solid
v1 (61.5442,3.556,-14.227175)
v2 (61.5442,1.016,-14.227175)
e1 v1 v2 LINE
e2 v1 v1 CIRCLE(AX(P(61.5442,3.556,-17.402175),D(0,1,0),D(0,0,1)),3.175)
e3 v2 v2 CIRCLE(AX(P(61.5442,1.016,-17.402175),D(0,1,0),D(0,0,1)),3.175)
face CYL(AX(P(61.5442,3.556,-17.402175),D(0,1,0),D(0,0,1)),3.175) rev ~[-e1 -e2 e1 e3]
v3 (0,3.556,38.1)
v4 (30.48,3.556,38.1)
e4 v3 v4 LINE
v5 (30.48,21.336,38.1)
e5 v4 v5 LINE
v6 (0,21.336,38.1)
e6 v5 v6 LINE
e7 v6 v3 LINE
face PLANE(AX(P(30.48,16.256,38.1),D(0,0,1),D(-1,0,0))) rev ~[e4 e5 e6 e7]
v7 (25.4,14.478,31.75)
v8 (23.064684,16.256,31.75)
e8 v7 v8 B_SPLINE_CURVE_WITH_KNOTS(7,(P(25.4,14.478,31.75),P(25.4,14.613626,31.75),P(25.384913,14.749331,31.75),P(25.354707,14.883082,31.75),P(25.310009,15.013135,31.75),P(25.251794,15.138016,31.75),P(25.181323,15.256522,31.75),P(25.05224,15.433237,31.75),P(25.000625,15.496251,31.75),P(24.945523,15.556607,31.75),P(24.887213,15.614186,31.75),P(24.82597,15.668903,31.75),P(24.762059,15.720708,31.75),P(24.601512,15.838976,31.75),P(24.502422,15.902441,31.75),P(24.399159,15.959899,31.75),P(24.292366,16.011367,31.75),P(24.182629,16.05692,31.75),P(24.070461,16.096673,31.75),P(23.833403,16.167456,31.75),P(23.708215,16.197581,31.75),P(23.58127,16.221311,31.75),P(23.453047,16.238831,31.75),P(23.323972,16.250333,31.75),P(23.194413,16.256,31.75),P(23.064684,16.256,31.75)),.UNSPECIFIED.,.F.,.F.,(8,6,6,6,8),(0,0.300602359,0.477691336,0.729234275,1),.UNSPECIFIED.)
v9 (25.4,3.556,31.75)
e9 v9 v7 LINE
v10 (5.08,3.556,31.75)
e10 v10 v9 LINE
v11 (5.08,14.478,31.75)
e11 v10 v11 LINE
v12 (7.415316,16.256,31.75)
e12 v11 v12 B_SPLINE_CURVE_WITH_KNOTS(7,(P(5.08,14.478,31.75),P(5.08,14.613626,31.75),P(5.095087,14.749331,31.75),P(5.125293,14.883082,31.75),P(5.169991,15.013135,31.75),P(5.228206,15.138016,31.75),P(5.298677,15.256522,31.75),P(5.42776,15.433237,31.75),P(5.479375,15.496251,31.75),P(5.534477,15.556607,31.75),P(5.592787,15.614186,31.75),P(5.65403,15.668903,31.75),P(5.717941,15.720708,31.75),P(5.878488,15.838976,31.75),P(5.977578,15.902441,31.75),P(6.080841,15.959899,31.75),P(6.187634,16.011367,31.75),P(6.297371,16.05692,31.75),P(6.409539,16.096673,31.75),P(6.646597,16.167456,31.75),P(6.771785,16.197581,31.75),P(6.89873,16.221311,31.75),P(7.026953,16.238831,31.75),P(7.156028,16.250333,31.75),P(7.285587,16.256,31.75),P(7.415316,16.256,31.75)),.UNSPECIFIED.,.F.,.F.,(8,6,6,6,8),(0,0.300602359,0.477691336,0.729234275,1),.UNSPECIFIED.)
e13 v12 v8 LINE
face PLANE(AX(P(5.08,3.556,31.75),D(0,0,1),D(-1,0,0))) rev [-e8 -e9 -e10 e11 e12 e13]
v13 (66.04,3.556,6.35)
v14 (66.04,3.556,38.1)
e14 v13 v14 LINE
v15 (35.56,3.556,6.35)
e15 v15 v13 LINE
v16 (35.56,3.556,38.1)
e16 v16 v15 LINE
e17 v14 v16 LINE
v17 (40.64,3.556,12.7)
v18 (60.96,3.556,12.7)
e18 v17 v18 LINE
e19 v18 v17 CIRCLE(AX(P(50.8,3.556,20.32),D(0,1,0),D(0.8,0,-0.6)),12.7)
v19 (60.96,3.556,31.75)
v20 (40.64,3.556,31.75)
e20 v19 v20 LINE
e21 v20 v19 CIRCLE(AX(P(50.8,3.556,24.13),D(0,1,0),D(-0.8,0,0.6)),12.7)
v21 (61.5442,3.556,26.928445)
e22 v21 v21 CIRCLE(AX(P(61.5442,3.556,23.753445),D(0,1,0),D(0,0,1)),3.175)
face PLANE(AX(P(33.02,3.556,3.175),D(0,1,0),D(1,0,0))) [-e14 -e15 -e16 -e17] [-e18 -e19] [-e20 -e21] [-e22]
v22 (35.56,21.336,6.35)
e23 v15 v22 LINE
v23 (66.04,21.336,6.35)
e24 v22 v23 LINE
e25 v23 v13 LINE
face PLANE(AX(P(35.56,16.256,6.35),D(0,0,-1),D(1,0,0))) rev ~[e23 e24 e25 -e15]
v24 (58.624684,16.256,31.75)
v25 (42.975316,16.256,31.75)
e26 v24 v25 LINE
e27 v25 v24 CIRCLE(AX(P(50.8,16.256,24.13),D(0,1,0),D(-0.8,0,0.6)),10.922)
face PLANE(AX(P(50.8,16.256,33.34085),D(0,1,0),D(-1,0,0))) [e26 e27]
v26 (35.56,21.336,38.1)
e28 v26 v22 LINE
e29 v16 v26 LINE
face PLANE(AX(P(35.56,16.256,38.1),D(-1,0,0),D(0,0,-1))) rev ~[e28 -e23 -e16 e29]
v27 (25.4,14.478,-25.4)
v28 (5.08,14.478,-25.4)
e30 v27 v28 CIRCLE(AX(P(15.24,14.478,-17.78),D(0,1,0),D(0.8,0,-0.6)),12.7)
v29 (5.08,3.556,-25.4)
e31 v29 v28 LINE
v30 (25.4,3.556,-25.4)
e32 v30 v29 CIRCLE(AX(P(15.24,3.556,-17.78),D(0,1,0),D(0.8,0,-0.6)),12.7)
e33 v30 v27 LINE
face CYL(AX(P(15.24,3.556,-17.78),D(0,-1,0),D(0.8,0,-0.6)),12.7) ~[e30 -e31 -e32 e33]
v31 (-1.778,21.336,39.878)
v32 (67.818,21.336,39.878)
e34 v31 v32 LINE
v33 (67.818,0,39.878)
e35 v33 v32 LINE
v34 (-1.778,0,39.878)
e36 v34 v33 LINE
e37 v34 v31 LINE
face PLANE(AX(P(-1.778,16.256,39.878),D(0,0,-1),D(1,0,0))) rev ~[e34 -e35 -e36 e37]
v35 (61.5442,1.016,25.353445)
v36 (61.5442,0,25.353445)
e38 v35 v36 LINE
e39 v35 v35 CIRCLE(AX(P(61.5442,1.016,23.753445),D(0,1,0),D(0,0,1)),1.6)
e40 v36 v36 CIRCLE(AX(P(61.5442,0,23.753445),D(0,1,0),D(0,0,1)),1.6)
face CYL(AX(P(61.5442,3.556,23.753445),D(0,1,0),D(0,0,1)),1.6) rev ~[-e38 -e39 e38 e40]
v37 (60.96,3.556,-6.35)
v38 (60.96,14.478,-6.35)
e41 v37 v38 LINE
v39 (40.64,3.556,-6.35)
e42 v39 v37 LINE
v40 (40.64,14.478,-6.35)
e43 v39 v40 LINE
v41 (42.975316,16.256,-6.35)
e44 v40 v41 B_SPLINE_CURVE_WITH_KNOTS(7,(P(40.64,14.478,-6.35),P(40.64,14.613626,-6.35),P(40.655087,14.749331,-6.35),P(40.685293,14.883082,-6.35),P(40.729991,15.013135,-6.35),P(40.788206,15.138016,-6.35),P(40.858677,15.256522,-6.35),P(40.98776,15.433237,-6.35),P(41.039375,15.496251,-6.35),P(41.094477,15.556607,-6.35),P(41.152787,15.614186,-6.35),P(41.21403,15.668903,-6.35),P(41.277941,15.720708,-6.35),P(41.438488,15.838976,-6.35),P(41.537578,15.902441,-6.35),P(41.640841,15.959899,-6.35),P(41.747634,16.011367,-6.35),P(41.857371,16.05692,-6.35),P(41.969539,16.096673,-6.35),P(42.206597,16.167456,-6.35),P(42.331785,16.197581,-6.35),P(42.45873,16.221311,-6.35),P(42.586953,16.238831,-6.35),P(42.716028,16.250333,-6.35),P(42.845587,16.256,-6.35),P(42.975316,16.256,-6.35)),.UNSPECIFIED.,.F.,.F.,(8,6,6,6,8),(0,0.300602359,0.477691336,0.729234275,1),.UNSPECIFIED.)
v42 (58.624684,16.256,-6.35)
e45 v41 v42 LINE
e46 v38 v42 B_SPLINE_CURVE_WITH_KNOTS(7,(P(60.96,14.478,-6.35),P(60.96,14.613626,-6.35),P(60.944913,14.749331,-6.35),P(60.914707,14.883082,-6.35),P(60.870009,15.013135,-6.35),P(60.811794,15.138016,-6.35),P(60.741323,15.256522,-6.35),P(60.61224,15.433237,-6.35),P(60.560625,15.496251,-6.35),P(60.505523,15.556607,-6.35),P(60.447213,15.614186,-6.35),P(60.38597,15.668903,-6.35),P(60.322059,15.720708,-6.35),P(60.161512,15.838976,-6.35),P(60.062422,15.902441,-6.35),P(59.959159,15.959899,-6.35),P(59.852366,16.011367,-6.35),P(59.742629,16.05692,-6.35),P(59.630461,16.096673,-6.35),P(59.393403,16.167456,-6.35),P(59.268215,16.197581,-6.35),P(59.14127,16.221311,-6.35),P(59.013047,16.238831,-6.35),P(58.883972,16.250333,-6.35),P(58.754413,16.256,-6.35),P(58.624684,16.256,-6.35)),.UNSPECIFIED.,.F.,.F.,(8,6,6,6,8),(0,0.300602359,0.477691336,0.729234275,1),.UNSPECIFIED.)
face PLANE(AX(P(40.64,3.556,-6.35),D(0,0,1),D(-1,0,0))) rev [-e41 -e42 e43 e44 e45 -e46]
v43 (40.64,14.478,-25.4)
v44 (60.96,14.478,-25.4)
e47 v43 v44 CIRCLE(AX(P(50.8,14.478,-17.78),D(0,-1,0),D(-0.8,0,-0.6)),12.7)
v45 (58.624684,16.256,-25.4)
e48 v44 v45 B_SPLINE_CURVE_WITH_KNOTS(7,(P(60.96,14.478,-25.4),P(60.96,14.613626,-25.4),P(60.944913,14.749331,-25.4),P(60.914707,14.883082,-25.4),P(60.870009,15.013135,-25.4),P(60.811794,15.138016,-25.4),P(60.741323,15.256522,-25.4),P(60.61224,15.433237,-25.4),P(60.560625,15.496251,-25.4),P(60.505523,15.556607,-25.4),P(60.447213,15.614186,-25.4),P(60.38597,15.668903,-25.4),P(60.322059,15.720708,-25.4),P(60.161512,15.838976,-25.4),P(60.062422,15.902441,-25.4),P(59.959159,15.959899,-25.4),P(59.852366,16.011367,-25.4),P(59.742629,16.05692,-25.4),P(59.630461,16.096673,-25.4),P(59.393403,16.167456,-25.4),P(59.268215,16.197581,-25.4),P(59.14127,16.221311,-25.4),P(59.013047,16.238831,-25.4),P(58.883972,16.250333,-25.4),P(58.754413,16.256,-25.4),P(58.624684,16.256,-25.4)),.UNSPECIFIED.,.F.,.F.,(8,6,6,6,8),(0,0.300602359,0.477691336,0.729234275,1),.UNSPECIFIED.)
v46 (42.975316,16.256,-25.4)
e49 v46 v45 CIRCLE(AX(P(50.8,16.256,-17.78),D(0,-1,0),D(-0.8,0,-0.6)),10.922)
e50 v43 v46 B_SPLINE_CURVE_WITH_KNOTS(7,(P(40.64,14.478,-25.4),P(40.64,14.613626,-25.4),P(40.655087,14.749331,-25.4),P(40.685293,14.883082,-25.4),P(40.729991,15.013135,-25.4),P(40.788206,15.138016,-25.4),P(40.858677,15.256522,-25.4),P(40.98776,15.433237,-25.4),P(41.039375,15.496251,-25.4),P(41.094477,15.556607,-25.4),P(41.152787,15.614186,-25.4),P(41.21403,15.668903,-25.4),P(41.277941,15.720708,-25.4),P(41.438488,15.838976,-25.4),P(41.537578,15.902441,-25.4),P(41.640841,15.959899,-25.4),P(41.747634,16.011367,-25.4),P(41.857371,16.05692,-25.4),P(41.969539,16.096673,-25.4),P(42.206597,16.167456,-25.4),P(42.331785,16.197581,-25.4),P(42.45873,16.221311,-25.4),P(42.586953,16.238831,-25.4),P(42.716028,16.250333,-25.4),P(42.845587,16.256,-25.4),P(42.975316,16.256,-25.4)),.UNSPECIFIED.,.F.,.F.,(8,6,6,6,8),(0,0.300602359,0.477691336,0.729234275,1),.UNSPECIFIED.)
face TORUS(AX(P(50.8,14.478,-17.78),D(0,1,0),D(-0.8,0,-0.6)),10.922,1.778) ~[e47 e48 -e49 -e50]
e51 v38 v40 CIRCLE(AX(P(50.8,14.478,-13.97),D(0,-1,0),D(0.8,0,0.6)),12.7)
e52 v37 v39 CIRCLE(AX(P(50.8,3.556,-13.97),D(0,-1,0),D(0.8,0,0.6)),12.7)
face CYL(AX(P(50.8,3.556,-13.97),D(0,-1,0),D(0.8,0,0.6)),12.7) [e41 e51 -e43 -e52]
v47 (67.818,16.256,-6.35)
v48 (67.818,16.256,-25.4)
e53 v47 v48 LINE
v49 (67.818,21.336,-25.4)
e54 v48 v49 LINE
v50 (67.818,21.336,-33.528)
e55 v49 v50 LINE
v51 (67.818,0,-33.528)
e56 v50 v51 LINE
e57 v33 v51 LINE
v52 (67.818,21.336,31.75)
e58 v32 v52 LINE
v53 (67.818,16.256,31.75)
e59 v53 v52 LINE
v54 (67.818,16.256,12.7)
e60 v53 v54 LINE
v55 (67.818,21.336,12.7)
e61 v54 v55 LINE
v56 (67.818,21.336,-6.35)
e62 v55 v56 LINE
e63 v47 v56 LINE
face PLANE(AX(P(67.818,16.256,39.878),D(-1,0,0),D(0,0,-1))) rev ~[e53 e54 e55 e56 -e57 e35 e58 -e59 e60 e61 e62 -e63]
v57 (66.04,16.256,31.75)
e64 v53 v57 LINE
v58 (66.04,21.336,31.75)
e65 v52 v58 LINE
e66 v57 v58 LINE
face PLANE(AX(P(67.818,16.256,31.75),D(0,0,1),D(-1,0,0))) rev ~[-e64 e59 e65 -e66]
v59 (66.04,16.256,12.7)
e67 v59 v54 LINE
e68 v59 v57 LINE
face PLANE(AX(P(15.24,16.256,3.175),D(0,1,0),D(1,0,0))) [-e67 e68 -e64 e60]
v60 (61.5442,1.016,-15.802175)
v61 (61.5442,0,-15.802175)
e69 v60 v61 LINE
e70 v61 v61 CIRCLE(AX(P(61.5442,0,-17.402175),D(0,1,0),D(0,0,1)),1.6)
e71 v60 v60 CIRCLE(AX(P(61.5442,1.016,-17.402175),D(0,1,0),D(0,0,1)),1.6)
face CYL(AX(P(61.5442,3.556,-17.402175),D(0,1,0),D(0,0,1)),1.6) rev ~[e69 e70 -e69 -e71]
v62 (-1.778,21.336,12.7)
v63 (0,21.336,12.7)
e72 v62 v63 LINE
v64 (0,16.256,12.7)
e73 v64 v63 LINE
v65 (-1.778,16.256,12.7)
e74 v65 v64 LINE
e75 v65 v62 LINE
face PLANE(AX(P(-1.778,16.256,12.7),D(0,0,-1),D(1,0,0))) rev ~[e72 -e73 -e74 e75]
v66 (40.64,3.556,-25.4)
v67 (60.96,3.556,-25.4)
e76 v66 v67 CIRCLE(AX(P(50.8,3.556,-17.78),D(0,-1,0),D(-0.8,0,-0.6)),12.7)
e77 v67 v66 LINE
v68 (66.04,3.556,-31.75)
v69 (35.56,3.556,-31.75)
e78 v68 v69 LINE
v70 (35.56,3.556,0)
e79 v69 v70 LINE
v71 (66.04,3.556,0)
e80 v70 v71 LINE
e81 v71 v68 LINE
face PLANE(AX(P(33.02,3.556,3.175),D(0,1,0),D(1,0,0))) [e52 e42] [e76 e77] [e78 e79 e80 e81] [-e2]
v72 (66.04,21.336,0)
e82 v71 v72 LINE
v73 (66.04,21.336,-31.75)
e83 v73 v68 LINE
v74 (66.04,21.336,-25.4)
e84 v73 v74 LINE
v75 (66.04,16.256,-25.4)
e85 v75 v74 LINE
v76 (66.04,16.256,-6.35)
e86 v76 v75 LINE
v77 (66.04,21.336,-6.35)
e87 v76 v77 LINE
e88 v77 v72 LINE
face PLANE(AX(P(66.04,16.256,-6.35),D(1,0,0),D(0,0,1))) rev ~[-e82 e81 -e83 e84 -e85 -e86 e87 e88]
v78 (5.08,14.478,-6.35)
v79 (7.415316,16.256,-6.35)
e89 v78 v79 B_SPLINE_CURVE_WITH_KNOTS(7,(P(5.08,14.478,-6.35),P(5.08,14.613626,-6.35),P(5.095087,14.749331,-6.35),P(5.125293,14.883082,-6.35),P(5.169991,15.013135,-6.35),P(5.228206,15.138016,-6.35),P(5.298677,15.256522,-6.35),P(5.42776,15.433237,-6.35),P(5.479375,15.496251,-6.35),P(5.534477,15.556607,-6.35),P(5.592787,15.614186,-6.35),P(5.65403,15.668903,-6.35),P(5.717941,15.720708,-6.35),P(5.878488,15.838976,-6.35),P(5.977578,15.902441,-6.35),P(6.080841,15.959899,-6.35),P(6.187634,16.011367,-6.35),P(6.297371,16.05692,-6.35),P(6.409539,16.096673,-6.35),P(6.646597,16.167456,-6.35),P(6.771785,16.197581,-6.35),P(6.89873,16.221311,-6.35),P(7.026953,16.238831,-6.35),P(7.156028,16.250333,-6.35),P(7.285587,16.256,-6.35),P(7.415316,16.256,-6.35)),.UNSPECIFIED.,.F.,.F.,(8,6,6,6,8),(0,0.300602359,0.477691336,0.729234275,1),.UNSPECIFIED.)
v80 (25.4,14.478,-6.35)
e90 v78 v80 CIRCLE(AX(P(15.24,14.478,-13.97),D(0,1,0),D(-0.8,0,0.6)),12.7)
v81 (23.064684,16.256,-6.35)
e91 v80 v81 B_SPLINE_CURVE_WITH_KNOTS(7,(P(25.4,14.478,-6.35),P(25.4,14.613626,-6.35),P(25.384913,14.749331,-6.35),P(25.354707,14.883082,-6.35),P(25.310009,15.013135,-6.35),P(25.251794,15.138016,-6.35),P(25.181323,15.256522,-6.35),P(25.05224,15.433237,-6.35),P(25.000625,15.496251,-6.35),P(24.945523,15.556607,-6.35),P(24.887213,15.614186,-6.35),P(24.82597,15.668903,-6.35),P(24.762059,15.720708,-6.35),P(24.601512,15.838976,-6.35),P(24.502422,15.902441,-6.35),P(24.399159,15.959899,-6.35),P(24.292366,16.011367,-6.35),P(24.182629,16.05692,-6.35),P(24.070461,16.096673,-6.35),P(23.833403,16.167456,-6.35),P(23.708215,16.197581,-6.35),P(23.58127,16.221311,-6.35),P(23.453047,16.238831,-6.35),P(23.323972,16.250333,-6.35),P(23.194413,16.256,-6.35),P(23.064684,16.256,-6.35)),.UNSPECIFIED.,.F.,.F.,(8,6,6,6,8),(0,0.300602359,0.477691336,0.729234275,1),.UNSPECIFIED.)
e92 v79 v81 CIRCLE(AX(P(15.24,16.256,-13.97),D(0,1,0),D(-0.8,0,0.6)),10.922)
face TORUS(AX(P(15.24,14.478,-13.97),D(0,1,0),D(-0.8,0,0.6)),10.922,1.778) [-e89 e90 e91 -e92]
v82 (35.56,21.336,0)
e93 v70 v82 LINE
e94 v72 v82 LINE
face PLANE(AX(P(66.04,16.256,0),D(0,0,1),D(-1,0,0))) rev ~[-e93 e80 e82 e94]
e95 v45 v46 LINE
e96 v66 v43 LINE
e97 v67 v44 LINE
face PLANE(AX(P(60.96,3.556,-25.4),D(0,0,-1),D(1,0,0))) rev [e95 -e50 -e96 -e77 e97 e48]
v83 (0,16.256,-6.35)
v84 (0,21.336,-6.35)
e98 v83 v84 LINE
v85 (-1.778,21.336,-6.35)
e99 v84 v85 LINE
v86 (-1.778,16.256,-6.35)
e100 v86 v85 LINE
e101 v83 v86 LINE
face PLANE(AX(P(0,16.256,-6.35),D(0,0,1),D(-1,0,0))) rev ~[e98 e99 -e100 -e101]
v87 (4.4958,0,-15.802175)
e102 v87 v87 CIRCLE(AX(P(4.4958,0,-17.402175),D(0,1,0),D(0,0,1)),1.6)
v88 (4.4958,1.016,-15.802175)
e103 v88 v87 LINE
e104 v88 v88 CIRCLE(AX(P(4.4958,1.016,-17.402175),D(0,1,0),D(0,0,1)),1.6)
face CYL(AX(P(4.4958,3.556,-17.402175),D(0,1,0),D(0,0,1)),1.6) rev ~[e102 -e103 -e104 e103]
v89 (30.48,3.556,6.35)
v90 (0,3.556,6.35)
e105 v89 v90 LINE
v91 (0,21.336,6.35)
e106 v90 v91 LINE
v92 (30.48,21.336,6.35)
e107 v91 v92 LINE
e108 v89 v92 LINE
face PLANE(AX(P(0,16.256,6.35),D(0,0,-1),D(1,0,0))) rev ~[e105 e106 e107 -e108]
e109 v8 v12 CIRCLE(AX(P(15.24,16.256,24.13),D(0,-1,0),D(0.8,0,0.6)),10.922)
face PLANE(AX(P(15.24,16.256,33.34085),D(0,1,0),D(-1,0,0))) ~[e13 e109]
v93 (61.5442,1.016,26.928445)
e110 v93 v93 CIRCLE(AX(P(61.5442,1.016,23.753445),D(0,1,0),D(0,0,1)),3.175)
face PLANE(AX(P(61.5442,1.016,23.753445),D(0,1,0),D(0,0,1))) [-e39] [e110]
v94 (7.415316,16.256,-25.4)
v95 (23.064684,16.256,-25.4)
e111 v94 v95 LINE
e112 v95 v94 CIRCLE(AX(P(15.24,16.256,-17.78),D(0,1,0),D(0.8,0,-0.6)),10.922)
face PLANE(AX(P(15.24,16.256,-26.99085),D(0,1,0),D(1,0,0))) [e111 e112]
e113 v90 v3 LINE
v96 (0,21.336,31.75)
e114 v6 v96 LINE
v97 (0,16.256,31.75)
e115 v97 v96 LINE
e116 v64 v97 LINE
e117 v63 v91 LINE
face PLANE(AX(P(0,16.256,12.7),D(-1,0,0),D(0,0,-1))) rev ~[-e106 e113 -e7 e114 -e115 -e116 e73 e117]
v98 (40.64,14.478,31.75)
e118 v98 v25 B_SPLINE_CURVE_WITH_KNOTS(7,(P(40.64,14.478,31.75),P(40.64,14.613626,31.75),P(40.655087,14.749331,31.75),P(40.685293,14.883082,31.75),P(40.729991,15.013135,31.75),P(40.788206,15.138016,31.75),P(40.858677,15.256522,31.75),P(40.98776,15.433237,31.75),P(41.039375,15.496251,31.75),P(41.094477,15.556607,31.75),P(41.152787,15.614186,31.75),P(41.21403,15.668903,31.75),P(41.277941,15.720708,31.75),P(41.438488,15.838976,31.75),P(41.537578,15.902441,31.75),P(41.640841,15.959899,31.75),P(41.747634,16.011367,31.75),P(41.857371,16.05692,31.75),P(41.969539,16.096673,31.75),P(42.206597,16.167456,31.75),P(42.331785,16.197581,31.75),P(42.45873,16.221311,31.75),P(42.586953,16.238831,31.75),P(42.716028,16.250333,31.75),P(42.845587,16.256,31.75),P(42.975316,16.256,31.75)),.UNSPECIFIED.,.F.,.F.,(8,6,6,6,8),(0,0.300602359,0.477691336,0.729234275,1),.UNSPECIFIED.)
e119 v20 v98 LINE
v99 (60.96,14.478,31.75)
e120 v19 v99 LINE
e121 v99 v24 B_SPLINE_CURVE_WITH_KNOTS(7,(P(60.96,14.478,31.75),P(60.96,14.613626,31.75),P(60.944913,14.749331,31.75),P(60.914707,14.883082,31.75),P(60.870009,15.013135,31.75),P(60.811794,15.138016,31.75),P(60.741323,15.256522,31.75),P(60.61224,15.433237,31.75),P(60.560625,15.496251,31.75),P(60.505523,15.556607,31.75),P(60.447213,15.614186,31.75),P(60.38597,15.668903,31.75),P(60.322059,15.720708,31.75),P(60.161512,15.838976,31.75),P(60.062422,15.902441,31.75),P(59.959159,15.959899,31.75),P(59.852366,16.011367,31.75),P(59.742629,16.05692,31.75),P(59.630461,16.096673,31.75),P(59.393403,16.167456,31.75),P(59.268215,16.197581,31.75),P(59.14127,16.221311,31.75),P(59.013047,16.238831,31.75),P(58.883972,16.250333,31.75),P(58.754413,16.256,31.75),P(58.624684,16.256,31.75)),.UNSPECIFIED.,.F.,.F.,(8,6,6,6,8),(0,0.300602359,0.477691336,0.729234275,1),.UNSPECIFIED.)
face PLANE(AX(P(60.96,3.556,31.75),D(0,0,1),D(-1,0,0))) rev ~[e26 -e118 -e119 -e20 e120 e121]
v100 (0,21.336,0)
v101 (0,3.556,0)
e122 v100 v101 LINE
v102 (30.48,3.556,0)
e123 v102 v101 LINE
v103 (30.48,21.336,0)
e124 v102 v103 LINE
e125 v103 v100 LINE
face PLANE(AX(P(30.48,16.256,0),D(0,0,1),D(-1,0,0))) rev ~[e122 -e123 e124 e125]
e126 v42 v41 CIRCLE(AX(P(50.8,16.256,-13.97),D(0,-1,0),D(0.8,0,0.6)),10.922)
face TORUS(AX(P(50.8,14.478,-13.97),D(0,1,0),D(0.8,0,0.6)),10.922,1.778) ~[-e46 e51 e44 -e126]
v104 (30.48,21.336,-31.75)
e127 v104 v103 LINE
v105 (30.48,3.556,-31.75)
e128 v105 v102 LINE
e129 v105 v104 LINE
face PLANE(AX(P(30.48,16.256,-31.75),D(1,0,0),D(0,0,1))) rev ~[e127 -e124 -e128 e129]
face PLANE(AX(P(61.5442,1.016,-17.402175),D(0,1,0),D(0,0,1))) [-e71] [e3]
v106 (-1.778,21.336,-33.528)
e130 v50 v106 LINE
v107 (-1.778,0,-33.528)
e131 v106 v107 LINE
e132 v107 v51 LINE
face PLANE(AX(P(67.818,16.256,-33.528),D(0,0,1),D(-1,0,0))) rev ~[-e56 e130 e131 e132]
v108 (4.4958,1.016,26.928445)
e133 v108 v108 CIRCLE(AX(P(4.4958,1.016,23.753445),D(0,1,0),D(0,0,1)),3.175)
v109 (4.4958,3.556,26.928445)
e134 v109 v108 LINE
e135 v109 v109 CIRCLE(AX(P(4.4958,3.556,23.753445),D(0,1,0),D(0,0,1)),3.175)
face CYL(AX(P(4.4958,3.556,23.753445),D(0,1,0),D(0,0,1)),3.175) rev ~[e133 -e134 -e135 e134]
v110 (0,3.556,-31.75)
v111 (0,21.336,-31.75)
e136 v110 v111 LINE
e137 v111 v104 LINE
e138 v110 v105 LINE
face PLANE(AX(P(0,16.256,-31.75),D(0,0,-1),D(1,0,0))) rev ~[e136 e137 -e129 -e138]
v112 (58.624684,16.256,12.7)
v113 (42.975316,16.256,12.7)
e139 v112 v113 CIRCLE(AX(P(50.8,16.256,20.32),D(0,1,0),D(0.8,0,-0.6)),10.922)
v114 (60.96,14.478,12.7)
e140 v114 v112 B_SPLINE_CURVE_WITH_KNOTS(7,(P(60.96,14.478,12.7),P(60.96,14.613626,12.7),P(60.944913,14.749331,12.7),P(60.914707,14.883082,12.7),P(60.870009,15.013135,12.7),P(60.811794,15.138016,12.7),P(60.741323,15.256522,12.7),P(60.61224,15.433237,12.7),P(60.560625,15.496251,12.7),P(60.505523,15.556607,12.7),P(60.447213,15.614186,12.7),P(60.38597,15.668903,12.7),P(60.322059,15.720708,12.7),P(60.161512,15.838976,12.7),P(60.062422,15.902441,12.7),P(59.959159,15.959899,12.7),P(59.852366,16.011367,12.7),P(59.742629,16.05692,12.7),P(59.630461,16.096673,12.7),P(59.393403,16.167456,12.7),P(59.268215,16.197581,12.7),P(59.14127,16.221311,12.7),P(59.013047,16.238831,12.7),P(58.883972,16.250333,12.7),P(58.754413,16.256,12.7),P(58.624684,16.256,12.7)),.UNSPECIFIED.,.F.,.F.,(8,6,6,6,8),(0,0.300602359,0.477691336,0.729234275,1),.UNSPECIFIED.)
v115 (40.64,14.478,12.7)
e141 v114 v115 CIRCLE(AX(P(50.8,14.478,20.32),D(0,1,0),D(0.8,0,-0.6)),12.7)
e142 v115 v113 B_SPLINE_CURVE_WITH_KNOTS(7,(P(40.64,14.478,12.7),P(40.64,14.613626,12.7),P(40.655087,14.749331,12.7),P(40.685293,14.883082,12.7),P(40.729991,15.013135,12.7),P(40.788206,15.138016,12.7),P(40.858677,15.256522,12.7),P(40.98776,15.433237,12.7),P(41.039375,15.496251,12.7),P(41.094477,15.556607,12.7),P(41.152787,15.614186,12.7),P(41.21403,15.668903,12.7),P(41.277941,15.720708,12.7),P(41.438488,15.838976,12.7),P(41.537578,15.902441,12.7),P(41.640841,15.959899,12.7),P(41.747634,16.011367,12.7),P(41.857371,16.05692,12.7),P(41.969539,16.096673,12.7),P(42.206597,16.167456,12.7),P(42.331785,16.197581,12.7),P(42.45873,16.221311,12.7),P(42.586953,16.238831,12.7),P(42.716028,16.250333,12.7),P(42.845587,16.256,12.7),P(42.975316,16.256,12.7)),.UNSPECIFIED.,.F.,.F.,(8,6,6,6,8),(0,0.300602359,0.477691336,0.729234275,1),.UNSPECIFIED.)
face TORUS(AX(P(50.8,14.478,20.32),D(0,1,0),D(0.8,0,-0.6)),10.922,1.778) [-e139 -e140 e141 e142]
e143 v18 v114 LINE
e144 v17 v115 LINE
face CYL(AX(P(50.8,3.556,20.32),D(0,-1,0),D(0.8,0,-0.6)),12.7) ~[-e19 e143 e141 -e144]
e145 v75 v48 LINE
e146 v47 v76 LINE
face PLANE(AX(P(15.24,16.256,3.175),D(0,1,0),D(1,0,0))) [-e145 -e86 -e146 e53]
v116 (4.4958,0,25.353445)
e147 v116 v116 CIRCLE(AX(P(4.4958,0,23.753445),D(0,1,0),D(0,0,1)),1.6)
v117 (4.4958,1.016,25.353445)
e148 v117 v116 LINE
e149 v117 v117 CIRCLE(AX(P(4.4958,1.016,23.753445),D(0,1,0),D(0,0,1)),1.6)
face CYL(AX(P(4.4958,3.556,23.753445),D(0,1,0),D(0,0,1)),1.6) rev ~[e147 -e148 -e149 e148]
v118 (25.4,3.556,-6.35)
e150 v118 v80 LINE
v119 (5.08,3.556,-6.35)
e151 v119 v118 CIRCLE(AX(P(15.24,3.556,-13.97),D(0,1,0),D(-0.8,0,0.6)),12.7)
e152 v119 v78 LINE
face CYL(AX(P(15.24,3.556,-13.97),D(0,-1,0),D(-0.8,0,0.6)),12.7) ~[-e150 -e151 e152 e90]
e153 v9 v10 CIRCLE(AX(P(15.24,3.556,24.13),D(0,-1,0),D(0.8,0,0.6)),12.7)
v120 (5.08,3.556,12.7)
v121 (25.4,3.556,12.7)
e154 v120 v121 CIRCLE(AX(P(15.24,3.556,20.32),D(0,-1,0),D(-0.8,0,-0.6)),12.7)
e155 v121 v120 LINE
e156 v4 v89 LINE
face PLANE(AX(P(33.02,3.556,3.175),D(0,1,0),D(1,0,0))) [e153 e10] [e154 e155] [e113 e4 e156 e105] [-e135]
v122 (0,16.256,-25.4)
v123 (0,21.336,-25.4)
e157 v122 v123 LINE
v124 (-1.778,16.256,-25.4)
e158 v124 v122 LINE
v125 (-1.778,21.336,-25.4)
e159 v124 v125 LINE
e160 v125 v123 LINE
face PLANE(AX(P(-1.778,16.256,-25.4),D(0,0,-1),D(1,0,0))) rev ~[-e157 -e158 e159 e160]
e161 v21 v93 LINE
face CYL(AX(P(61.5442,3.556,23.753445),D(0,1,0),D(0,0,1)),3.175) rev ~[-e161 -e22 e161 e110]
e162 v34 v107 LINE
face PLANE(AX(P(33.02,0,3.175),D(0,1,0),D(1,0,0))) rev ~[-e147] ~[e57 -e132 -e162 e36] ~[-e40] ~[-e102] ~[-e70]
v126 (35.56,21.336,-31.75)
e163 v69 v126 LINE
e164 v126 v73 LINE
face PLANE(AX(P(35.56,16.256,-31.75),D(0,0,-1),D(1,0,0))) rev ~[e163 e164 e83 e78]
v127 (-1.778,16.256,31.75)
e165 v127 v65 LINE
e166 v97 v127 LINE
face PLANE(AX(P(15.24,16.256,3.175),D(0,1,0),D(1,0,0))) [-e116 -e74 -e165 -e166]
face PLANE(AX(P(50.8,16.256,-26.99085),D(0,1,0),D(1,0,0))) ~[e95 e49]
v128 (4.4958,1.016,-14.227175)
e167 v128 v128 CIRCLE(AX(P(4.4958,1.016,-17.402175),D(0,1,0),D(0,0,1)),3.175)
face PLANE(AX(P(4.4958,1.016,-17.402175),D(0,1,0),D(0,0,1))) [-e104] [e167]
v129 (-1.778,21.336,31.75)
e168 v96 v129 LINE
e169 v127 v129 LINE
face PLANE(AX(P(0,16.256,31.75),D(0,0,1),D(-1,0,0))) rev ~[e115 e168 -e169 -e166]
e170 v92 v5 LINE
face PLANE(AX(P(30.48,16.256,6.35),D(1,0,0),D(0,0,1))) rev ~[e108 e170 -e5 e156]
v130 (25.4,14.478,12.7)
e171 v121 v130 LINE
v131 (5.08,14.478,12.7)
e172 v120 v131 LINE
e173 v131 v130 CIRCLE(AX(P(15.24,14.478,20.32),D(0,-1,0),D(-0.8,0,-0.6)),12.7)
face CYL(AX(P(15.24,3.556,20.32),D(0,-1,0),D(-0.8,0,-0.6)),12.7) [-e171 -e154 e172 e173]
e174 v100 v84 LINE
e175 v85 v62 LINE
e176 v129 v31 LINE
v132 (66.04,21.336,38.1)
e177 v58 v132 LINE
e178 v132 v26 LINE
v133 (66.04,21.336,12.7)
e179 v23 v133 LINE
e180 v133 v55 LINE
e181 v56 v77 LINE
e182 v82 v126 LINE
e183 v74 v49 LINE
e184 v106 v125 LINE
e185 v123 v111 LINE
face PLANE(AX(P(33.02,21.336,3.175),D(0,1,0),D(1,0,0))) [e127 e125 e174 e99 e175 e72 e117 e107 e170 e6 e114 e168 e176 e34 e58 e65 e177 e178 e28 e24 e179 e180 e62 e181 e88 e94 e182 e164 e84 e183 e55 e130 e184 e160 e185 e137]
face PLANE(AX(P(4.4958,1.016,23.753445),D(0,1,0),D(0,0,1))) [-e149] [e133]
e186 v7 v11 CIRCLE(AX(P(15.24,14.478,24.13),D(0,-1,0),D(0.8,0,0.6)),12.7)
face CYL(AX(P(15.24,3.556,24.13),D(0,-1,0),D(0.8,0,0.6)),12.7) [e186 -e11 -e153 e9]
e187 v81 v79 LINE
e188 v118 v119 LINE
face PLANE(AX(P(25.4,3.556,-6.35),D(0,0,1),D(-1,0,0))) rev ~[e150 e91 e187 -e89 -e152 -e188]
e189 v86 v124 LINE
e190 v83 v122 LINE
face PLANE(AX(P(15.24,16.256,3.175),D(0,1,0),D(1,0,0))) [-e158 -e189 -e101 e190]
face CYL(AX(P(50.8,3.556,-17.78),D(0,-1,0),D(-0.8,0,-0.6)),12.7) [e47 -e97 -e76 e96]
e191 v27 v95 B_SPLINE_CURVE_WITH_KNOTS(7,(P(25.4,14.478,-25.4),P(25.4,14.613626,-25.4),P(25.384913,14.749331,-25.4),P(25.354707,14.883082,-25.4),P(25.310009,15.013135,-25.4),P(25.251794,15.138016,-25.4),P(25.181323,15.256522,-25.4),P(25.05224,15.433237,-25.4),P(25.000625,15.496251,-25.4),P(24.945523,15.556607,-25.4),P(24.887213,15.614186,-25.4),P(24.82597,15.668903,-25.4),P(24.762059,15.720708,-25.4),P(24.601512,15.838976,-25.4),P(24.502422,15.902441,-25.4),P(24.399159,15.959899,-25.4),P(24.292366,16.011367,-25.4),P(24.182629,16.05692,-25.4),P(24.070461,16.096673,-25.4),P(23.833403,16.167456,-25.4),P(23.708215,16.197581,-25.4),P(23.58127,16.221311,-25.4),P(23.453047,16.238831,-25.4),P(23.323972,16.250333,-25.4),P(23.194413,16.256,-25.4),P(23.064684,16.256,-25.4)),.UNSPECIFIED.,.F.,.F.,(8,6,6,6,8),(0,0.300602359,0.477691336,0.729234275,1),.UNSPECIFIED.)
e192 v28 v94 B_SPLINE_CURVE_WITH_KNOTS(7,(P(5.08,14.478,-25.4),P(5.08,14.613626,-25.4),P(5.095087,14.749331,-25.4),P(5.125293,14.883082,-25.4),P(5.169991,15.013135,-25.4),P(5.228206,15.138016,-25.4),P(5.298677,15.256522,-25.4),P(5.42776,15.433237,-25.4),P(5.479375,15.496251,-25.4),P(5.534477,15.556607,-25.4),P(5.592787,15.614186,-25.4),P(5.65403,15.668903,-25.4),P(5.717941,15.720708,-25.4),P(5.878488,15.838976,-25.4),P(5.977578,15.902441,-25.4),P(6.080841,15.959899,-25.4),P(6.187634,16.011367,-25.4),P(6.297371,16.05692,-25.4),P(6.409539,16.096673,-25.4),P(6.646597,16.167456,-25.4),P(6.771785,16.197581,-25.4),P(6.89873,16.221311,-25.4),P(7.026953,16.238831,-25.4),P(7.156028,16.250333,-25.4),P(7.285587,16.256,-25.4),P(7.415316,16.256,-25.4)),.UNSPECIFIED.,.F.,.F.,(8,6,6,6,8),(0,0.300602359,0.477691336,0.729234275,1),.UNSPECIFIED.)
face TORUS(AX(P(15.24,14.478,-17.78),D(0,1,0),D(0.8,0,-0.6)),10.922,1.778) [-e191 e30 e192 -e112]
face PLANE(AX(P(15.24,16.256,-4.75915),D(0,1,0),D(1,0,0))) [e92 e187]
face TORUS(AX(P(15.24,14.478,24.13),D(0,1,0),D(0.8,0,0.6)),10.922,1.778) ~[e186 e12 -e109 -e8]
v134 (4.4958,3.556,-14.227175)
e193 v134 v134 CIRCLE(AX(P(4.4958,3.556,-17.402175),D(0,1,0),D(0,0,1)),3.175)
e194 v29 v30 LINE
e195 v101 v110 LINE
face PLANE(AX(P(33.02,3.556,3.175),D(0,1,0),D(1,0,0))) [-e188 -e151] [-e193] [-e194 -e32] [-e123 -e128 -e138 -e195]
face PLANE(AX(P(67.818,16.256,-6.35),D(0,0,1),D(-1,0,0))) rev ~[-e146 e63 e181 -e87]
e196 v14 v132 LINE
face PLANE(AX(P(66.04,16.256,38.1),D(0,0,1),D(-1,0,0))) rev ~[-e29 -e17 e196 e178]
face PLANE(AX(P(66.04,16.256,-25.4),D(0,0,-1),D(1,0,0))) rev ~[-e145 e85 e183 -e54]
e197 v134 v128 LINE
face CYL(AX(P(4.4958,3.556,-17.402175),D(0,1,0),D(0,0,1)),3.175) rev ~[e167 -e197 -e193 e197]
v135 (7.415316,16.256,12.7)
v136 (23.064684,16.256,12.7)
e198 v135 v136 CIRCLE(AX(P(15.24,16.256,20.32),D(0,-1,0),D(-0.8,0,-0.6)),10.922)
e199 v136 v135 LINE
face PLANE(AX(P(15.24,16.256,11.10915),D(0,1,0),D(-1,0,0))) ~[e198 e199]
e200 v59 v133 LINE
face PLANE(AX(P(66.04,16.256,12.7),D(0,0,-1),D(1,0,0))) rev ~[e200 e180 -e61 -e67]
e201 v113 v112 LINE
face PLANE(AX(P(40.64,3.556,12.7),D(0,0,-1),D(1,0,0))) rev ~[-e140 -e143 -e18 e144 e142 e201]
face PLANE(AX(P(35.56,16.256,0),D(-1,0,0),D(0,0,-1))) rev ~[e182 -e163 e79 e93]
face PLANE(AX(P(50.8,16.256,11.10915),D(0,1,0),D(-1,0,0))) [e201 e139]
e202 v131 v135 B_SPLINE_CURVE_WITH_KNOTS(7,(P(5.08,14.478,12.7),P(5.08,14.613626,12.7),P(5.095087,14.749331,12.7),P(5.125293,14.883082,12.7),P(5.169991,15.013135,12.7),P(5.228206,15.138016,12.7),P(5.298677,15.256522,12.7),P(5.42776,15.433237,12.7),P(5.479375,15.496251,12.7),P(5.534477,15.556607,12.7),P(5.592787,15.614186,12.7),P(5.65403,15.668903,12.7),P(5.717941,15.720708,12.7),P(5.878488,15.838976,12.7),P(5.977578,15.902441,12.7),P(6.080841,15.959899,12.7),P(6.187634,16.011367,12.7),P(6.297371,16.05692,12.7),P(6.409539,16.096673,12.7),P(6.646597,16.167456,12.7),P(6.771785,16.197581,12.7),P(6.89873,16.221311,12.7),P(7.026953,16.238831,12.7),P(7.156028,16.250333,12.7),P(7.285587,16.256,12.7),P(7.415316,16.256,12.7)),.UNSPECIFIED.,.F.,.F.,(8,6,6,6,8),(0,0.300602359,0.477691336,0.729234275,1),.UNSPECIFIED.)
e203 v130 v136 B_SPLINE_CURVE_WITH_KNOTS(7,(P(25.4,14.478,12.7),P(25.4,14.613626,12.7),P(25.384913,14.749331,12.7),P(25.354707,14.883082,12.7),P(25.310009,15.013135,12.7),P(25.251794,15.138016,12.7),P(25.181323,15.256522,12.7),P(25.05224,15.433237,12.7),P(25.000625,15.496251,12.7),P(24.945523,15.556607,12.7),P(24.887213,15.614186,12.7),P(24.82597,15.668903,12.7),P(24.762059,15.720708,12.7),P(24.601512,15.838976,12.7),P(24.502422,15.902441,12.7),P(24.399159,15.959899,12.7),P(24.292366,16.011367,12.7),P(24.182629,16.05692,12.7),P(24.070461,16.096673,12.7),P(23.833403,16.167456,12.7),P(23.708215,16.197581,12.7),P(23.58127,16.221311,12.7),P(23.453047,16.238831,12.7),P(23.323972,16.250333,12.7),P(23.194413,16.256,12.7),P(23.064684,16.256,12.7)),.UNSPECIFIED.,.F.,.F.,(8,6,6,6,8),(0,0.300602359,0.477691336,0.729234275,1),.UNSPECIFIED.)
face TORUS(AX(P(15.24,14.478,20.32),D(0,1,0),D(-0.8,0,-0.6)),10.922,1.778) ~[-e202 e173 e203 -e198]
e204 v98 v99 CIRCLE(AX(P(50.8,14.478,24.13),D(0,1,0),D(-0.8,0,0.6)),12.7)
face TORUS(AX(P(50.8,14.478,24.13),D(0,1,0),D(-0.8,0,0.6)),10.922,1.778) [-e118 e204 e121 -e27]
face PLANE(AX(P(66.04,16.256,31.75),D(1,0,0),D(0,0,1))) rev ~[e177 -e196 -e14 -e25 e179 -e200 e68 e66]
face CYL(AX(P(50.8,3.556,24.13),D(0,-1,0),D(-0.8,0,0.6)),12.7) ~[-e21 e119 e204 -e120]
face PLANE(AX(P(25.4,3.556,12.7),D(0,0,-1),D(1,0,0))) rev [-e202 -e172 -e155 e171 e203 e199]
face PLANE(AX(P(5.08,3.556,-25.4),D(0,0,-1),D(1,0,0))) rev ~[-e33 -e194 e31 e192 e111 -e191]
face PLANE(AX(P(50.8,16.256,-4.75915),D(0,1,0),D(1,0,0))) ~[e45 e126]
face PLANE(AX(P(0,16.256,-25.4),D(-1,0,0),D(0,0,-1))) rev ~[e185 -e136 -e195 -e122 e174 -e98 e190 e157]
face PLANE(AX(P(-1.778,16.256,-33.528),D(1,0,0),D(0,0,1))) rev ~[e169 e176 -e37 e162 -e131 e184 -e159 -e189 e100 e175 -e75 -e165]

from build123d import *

# Parameters (mm, degrees)
SKETCH1_W            = 30.48
SKETCH1_H            = 31.75
BOSS_EXTRUDE1_DEPTH  = 3.556
BOSS_EXTRUDE2_DEPTH  = 12.7
SKETCH4_W            = 69.596
SKETCH4_H            = 73.406
BOSS_EXTRUDE3_DEPTH  = 3.556
BOSS_EXTRUDE5_DEPTH  = 12.7
MIRROR2_COPY_1_DEPTH = 12.7
MIRROR4_COPY_1_DEPTH = 12.7
FILLET5_R            = 1.778
SKETCH6_R            = 1.6
CUT_EXTRUDE1_DEPTH   = 80.692069935
BOSS_EXTRUDE7_REACH  = 82.336
SKETCH9_W            = 1.524
SKETCH9_H            = 35.306
SKETCH9_H_2          = 2.794
SKETCH9_W_2          = 34.036
SKETCH10_R           = 3.175
CUT_EXTRUDE2_DEPTH   = 2.54
BOSS_EXTRUDE8_DEPTH  = 5.08


with BuildPart() as part:
    # Sketch1 → Boss-Extrude1 (new body)
    with BuildSketch(Plane(origin=(0, 0, 0), x_dir=(1, 0, 0), z_dir=(0, 1, 0))):
        with Locations((15.24, 15.875)):
            Rectangle(SKETCH1_W, SKETCH1_H)
    extrude(amount=BOSS_EXTRUDE1_DEPTH)

    # Sketch2 → Boss-Extrude2 (add)
    with BuildSketch(Plane(origin=(0, 3.556, 0), x_dir=(1, 0, 0), z_dir=(0, 1, 0))):
        with BuildLine():
            Line((25.4, 6.35), (5.08, 6.35))
            ThreePointArc((5.08, 6.35), (15.24, 1.27), (25.4, 6.35))
        make_face()
        with BuildLine():
            ThreePointArc((25.4, 25.4), (15.24, 30.48), (5.08, 25.4))
            Line((5.08, 25.4), (25.4, 25.4))
        make_face()
    boss_extrude2 = extrude(amount=BOSS_EXTRUDE2_DEPTH)

    # Sketch4 → Boss-Extrude3 (add)
    with BuildSketch(Plane(origin=(0, 3.556, 0), x_dir=(1, 0, 0), z_dir=(0, 1, 0))):
        with Locations((33.02, -3.175)):
            Rectangle(SKETCH4_W, SKETCH4_H)
    extrude(amount=-BOSS_EXTRUDE3_DEPTH)

    # Sketch8 → Boss-Extrude5 (add)
    with BuildSketch(Plane(origin=(0, 3.556, 0), x_dir=(1, 0, 0), z_dir=(0, 1, 0))):
        Polygon((-1.778, 33.528), (-1.778, 27.178), (-1.778, 4.572), (-1.778, -1.778), (32.258, -1.778), (32.258, 33.528), align=None)
        Polygon((0, 27.178), (0, 31.75), (30.48, 31.75), (30.48, 0), (0, 0), (0, 4.572), align=None, mode=Mode.SUBTRACT)
    boss_extrude5 = extrude(amount=BOSS_EXTRUDE5_DEPTH)

    # Mirror1: Boss-Extrude5 across plane
    add(boss_extrude5.mirror(Plane(origin=(0, 0, 3.175), x_dir=(1, 0, 0), z_dir=(0, 0, -1))))

    # Mirror2: Boss-Extrude5 across plane
    add(boss_extrude5.mirror(Plane(origin=(33.02, 0, 0), x_dir=(0, 0, 1), z_dir=(1, 0, 0))))

    # Mirror2 copy 1 sketch → Mirror2 copy 1 (add)
    with BuildSketch(Plane(origin=(66.04, 3.556, 6.35), x_dir=(-1, 0, 0), z_dir=(0, 1, 0))):
        Polygon((-1.778, 33.528), (-1.778, 27.178), (-1.778, 4.572), (-1.778, -1.778), (32.258, -1.778), (32.258, 33.528), align=None)
        Polygon((0, 27.178), (0, 31.75), (30.48, 31.75), (30.48, 0), (0, 0), (0, 4.572), align=None, mode=Mode.SUBTRACT)
    extrude(amount=MIRROR2_COPY_1_DEPTH)

    # Mirror3: Boss-Extrude2 across plane
    add(boss_extrude2.mirror(Plane(origin=(0, 0, 3.175), x_dir=(1, 0, 0), z_dir=(0, 0, -1))))

    # Mirror4: Boss-Extrude2 across plane
    add(boss_extrude2.mirror(Plane(origin=(33.02, 0, 0), x_dir=(0, 0, 1), z_dir=(1, 0, 0))))

    # Mirror4 copy 1 sketch → Mirror4 copy 1 (add)
    with BuildSketch(Plane(origin=(66.04, 3.556, 6.35), x_dir=(-1, 0, 0), z_dir=(0, 1, 0))):
        with BuildLine():
            Line((25.4, 6.35), (5.08, 6.35))
            ThreePointArc((5.08, 6.35), (15.24, 1.27), (25.4, 6.35))
        make_face()
        with BuildLine():
            ThreePointArc((25.4, 25.4), (15.24, 30.48), (5.08, 25.4))
            Line((5.08, 25.4), (25.4, 25.4))
        make_face()
    extrude(amount=MIRROR4_COPY_1_DEPTH)

    # Fillet5
    fillet5_edges = [part.edges().sort_by_distance(p)[0] for p in [
        (15.24, 16.256, -1.27),
        (15.24, 16.256, 7.62),
        (15.24, 16.256, 36.83),
        (50.8, 16.256, 7.62),
        (50.8, 16.256, 36.83),
        (50.8, 16.256, -1.27),
        (50.8, 16.256, -30.48),
        (15.24, 16.256, -30.48),
    ]]
    fillet(fillet5_edges, radius=FILLET5_R)

    # Sketch6 → Cut-Extrude1 (cut, through all)
    with BuildSketch(Plane(origin=(0, 3.556, 0), x_dir=(1, 0, 0), z_dir=(0, 1, 0))):
        with Locations(Location((61.5442, 17.402175, 0), (0, 0, 270))):
            Circle(SKETCH6_R)
        with Locations(Location((4.4958, 17.402175, 0), (0, 0, 270))):
            Circle(SKETCH6_R)
        with Locations(Location((4.4958, -23.753445, 0), (0, 0, 270))):
            Circle(SKETCH6_R)
        with Locations(Location((61.5442, -23.753445, 0), (0, 0, 270))):
            Circle(SKETCH6_R)
    extrude(amount=-CUT_EXTRUDE1_DEPTH, mode=Mode.SUBTRACT)

    # Sketch9 → Boss-Extrude7 (add, up to next)
    with BuildSketch(Plane(origin=(0, 16.256, 0), x_dir=(1, 0, 0), z_dir=(0, 1, 0)), mode=Mode.PRIVATE) as boss_extrude7_sk1:
        with Locations((33.02, 15.875)):
            Rectangle(SKETCH9_W, SKETCH9_H)
    boss_extrude7_tool1 = extrude(boss_extrude7_sk1.sketch, amount=-BOSS_EXTRUDE7_REACH, mode=Mode.PRIVATE) - part.part
    # Sketch9 → Boss-Extrude7 (add, up to next)
    with BuildSketch(Plane(origin=(0, 16.256, 0), x_dir=(1, 0, 0), z_dir=(0, 1, 0)), mode=Mode.PRIVATE) as boss_extrude7_sk2:
        with Locations((33.02, -22.225)):
            Rectangle(SKETCH9_W, SKETCH9_H)
    boss_extrude7_tool2 = extrude(boss_extrude7_sk2.sketch, amount=-BOSS_EXTRUDE7_REACH, mode=Mode.PRIVATE) - part.part
    # Sketch9 → Boss-Extrude7 (add, up to next)
    with BuildSketch(Plane(origin=(0, 16.256, 0), x_dir=(1, 0, 0), z_dir=(0, 1, 0)), mode=Mode.PRIVATE) as boss_extrude7_sk3:
        with Locations((33.02, -3.175)):
            Rectangle(SKETCH9_W, SKETCH9_H_2)
    boss_extrude7_tool3 = extrude(boss_extrude7_sk3.sketch, amount=-BOSS_EXTRUDE7_REACH, mode=Mode.PRIVATE) - part.part
    # Sketch9 → Boss-Extrude7 (add, up to next)
    with BuildSketch(Plane(origin=(0, 16.256, 0), x_dir=(1, 0, 0), z_dir=(0, 1, 0)), mode=Mode.PRIVATE) as boss_extrude7_sk4:
        with Locations((50.8, -3.175)):
            Rectangle(SKETCH9_W_2, SKETCH9_H_2)
    boss_extrude7_tool4 = extrude(boss_extrude7_sk4.sketch, amount=-BOSS_EXTRUDE7_REACH, mode=Mode.PRIVATE) - part.part
    # Sketch9 → Boss-Extrude7 (add, up to next)
    with BuildSketch(Plane(origin=(0, 16.256, 0), x_dir=(1, 0, 0), z_dir=(0, 1, 0)), mode=Mode.PRIVATE) as boss_extrude7_sk5:
        with Locations((15.24, -3.175)):
            Rectangle(SKETCH9_W_2, SKETCH9_H_2)
    boss_extrude7_tool5 = extrude(boss_extrude7_sk5.sketch, amount=-BOSS_EXTRUDE7_REACH, mode=Mode.PRIVATE) - part.part
    add(boss_extrude7_tool1.solids().sort_by_distance((33.02, 16.256, -15.875))[0])
    add(boss_extrude7_tool2.solids().sort_by_distance((33.02, 16.256, 22.225))[0])
    add(boss_extrude7_tool3.solids().sort_by_distance((33.02, 16.256, 3.175))[0])
    add(boss_extrude7_tool4.solids().sort_by_distance((50.8, 16.256, 3.175))[0])
    add(boss_extrude7_tool5.solids().sort_by_distance((15.24, 16.256, 3.175))[0])

    # Sketch10 → Cut-Extrude2 (cut)
    with BuildSketch(Plane(origin=(0, 3.556, 0), x_dir=(1, 0, 0), z_dir=(0, 1, 0))):
        with Locations(Location((61.5442, 17.402175, 0), (0, 0, 270))):
            Circle(SKETCH10_R)
        with Locations(Location((4.4958, 17.402175, 0), (0, 0, 270))):
            Circle(SKETCH10_R)
        with Locations(Location((4.4958, -23.753445, 0), (0, 0, 270))):
            Circle(SKETCH10_R)
        with Locations(Location((61.5442, -23.753445, 0), (0, 0, 270))):
            Circle(SKETCH10_R)
    extrude(amount=-CUT_EXTRUDE2_DEPTH, mode=Mode.SUBTRACT)

    # Sketch12 → Boss-Extrude8 (add)
    with BuildSketch(Plane(origin=(0, 16.256, 0), x_dir=(1, 0, 0), z_dir=(0, 1, 0))):
        Polygon((-1.778, 25.4), (0, 25.4), (0, 31.75), (30.48, 31.75), (30.48, 0), (0, 0), (0, 6.35), (-1.778, 6.35), (-1.778, -12.7), (0, -12.7), (0, -6.35), (30.48, -6.35), (30.48, -38.1), (0, -38.1), (0, -31.75), (-1.778, -31.75), (-1.778, -39.878), (67.818, -39.878), (67.818, -31.75), (66.04, -31.75), (66.04, -38.1), (35.56, -38.1), (35.56, -6.35), (66.04, -6.35), (66.04, -12.7), (67.818, -12.7), (67.818, 6.35), (66.04, 6.35), (66.04, 0), (35.56, 0), (35.56, 31.75), (66.04, 31.75), (66.04, 25.4), (67.818, 25.4), (67.818, 33.528), (-1.778, 33.528), align=None)
    extrude(amount=BOSS_EXTRUDE8_DEPTH)


solid = part.part
